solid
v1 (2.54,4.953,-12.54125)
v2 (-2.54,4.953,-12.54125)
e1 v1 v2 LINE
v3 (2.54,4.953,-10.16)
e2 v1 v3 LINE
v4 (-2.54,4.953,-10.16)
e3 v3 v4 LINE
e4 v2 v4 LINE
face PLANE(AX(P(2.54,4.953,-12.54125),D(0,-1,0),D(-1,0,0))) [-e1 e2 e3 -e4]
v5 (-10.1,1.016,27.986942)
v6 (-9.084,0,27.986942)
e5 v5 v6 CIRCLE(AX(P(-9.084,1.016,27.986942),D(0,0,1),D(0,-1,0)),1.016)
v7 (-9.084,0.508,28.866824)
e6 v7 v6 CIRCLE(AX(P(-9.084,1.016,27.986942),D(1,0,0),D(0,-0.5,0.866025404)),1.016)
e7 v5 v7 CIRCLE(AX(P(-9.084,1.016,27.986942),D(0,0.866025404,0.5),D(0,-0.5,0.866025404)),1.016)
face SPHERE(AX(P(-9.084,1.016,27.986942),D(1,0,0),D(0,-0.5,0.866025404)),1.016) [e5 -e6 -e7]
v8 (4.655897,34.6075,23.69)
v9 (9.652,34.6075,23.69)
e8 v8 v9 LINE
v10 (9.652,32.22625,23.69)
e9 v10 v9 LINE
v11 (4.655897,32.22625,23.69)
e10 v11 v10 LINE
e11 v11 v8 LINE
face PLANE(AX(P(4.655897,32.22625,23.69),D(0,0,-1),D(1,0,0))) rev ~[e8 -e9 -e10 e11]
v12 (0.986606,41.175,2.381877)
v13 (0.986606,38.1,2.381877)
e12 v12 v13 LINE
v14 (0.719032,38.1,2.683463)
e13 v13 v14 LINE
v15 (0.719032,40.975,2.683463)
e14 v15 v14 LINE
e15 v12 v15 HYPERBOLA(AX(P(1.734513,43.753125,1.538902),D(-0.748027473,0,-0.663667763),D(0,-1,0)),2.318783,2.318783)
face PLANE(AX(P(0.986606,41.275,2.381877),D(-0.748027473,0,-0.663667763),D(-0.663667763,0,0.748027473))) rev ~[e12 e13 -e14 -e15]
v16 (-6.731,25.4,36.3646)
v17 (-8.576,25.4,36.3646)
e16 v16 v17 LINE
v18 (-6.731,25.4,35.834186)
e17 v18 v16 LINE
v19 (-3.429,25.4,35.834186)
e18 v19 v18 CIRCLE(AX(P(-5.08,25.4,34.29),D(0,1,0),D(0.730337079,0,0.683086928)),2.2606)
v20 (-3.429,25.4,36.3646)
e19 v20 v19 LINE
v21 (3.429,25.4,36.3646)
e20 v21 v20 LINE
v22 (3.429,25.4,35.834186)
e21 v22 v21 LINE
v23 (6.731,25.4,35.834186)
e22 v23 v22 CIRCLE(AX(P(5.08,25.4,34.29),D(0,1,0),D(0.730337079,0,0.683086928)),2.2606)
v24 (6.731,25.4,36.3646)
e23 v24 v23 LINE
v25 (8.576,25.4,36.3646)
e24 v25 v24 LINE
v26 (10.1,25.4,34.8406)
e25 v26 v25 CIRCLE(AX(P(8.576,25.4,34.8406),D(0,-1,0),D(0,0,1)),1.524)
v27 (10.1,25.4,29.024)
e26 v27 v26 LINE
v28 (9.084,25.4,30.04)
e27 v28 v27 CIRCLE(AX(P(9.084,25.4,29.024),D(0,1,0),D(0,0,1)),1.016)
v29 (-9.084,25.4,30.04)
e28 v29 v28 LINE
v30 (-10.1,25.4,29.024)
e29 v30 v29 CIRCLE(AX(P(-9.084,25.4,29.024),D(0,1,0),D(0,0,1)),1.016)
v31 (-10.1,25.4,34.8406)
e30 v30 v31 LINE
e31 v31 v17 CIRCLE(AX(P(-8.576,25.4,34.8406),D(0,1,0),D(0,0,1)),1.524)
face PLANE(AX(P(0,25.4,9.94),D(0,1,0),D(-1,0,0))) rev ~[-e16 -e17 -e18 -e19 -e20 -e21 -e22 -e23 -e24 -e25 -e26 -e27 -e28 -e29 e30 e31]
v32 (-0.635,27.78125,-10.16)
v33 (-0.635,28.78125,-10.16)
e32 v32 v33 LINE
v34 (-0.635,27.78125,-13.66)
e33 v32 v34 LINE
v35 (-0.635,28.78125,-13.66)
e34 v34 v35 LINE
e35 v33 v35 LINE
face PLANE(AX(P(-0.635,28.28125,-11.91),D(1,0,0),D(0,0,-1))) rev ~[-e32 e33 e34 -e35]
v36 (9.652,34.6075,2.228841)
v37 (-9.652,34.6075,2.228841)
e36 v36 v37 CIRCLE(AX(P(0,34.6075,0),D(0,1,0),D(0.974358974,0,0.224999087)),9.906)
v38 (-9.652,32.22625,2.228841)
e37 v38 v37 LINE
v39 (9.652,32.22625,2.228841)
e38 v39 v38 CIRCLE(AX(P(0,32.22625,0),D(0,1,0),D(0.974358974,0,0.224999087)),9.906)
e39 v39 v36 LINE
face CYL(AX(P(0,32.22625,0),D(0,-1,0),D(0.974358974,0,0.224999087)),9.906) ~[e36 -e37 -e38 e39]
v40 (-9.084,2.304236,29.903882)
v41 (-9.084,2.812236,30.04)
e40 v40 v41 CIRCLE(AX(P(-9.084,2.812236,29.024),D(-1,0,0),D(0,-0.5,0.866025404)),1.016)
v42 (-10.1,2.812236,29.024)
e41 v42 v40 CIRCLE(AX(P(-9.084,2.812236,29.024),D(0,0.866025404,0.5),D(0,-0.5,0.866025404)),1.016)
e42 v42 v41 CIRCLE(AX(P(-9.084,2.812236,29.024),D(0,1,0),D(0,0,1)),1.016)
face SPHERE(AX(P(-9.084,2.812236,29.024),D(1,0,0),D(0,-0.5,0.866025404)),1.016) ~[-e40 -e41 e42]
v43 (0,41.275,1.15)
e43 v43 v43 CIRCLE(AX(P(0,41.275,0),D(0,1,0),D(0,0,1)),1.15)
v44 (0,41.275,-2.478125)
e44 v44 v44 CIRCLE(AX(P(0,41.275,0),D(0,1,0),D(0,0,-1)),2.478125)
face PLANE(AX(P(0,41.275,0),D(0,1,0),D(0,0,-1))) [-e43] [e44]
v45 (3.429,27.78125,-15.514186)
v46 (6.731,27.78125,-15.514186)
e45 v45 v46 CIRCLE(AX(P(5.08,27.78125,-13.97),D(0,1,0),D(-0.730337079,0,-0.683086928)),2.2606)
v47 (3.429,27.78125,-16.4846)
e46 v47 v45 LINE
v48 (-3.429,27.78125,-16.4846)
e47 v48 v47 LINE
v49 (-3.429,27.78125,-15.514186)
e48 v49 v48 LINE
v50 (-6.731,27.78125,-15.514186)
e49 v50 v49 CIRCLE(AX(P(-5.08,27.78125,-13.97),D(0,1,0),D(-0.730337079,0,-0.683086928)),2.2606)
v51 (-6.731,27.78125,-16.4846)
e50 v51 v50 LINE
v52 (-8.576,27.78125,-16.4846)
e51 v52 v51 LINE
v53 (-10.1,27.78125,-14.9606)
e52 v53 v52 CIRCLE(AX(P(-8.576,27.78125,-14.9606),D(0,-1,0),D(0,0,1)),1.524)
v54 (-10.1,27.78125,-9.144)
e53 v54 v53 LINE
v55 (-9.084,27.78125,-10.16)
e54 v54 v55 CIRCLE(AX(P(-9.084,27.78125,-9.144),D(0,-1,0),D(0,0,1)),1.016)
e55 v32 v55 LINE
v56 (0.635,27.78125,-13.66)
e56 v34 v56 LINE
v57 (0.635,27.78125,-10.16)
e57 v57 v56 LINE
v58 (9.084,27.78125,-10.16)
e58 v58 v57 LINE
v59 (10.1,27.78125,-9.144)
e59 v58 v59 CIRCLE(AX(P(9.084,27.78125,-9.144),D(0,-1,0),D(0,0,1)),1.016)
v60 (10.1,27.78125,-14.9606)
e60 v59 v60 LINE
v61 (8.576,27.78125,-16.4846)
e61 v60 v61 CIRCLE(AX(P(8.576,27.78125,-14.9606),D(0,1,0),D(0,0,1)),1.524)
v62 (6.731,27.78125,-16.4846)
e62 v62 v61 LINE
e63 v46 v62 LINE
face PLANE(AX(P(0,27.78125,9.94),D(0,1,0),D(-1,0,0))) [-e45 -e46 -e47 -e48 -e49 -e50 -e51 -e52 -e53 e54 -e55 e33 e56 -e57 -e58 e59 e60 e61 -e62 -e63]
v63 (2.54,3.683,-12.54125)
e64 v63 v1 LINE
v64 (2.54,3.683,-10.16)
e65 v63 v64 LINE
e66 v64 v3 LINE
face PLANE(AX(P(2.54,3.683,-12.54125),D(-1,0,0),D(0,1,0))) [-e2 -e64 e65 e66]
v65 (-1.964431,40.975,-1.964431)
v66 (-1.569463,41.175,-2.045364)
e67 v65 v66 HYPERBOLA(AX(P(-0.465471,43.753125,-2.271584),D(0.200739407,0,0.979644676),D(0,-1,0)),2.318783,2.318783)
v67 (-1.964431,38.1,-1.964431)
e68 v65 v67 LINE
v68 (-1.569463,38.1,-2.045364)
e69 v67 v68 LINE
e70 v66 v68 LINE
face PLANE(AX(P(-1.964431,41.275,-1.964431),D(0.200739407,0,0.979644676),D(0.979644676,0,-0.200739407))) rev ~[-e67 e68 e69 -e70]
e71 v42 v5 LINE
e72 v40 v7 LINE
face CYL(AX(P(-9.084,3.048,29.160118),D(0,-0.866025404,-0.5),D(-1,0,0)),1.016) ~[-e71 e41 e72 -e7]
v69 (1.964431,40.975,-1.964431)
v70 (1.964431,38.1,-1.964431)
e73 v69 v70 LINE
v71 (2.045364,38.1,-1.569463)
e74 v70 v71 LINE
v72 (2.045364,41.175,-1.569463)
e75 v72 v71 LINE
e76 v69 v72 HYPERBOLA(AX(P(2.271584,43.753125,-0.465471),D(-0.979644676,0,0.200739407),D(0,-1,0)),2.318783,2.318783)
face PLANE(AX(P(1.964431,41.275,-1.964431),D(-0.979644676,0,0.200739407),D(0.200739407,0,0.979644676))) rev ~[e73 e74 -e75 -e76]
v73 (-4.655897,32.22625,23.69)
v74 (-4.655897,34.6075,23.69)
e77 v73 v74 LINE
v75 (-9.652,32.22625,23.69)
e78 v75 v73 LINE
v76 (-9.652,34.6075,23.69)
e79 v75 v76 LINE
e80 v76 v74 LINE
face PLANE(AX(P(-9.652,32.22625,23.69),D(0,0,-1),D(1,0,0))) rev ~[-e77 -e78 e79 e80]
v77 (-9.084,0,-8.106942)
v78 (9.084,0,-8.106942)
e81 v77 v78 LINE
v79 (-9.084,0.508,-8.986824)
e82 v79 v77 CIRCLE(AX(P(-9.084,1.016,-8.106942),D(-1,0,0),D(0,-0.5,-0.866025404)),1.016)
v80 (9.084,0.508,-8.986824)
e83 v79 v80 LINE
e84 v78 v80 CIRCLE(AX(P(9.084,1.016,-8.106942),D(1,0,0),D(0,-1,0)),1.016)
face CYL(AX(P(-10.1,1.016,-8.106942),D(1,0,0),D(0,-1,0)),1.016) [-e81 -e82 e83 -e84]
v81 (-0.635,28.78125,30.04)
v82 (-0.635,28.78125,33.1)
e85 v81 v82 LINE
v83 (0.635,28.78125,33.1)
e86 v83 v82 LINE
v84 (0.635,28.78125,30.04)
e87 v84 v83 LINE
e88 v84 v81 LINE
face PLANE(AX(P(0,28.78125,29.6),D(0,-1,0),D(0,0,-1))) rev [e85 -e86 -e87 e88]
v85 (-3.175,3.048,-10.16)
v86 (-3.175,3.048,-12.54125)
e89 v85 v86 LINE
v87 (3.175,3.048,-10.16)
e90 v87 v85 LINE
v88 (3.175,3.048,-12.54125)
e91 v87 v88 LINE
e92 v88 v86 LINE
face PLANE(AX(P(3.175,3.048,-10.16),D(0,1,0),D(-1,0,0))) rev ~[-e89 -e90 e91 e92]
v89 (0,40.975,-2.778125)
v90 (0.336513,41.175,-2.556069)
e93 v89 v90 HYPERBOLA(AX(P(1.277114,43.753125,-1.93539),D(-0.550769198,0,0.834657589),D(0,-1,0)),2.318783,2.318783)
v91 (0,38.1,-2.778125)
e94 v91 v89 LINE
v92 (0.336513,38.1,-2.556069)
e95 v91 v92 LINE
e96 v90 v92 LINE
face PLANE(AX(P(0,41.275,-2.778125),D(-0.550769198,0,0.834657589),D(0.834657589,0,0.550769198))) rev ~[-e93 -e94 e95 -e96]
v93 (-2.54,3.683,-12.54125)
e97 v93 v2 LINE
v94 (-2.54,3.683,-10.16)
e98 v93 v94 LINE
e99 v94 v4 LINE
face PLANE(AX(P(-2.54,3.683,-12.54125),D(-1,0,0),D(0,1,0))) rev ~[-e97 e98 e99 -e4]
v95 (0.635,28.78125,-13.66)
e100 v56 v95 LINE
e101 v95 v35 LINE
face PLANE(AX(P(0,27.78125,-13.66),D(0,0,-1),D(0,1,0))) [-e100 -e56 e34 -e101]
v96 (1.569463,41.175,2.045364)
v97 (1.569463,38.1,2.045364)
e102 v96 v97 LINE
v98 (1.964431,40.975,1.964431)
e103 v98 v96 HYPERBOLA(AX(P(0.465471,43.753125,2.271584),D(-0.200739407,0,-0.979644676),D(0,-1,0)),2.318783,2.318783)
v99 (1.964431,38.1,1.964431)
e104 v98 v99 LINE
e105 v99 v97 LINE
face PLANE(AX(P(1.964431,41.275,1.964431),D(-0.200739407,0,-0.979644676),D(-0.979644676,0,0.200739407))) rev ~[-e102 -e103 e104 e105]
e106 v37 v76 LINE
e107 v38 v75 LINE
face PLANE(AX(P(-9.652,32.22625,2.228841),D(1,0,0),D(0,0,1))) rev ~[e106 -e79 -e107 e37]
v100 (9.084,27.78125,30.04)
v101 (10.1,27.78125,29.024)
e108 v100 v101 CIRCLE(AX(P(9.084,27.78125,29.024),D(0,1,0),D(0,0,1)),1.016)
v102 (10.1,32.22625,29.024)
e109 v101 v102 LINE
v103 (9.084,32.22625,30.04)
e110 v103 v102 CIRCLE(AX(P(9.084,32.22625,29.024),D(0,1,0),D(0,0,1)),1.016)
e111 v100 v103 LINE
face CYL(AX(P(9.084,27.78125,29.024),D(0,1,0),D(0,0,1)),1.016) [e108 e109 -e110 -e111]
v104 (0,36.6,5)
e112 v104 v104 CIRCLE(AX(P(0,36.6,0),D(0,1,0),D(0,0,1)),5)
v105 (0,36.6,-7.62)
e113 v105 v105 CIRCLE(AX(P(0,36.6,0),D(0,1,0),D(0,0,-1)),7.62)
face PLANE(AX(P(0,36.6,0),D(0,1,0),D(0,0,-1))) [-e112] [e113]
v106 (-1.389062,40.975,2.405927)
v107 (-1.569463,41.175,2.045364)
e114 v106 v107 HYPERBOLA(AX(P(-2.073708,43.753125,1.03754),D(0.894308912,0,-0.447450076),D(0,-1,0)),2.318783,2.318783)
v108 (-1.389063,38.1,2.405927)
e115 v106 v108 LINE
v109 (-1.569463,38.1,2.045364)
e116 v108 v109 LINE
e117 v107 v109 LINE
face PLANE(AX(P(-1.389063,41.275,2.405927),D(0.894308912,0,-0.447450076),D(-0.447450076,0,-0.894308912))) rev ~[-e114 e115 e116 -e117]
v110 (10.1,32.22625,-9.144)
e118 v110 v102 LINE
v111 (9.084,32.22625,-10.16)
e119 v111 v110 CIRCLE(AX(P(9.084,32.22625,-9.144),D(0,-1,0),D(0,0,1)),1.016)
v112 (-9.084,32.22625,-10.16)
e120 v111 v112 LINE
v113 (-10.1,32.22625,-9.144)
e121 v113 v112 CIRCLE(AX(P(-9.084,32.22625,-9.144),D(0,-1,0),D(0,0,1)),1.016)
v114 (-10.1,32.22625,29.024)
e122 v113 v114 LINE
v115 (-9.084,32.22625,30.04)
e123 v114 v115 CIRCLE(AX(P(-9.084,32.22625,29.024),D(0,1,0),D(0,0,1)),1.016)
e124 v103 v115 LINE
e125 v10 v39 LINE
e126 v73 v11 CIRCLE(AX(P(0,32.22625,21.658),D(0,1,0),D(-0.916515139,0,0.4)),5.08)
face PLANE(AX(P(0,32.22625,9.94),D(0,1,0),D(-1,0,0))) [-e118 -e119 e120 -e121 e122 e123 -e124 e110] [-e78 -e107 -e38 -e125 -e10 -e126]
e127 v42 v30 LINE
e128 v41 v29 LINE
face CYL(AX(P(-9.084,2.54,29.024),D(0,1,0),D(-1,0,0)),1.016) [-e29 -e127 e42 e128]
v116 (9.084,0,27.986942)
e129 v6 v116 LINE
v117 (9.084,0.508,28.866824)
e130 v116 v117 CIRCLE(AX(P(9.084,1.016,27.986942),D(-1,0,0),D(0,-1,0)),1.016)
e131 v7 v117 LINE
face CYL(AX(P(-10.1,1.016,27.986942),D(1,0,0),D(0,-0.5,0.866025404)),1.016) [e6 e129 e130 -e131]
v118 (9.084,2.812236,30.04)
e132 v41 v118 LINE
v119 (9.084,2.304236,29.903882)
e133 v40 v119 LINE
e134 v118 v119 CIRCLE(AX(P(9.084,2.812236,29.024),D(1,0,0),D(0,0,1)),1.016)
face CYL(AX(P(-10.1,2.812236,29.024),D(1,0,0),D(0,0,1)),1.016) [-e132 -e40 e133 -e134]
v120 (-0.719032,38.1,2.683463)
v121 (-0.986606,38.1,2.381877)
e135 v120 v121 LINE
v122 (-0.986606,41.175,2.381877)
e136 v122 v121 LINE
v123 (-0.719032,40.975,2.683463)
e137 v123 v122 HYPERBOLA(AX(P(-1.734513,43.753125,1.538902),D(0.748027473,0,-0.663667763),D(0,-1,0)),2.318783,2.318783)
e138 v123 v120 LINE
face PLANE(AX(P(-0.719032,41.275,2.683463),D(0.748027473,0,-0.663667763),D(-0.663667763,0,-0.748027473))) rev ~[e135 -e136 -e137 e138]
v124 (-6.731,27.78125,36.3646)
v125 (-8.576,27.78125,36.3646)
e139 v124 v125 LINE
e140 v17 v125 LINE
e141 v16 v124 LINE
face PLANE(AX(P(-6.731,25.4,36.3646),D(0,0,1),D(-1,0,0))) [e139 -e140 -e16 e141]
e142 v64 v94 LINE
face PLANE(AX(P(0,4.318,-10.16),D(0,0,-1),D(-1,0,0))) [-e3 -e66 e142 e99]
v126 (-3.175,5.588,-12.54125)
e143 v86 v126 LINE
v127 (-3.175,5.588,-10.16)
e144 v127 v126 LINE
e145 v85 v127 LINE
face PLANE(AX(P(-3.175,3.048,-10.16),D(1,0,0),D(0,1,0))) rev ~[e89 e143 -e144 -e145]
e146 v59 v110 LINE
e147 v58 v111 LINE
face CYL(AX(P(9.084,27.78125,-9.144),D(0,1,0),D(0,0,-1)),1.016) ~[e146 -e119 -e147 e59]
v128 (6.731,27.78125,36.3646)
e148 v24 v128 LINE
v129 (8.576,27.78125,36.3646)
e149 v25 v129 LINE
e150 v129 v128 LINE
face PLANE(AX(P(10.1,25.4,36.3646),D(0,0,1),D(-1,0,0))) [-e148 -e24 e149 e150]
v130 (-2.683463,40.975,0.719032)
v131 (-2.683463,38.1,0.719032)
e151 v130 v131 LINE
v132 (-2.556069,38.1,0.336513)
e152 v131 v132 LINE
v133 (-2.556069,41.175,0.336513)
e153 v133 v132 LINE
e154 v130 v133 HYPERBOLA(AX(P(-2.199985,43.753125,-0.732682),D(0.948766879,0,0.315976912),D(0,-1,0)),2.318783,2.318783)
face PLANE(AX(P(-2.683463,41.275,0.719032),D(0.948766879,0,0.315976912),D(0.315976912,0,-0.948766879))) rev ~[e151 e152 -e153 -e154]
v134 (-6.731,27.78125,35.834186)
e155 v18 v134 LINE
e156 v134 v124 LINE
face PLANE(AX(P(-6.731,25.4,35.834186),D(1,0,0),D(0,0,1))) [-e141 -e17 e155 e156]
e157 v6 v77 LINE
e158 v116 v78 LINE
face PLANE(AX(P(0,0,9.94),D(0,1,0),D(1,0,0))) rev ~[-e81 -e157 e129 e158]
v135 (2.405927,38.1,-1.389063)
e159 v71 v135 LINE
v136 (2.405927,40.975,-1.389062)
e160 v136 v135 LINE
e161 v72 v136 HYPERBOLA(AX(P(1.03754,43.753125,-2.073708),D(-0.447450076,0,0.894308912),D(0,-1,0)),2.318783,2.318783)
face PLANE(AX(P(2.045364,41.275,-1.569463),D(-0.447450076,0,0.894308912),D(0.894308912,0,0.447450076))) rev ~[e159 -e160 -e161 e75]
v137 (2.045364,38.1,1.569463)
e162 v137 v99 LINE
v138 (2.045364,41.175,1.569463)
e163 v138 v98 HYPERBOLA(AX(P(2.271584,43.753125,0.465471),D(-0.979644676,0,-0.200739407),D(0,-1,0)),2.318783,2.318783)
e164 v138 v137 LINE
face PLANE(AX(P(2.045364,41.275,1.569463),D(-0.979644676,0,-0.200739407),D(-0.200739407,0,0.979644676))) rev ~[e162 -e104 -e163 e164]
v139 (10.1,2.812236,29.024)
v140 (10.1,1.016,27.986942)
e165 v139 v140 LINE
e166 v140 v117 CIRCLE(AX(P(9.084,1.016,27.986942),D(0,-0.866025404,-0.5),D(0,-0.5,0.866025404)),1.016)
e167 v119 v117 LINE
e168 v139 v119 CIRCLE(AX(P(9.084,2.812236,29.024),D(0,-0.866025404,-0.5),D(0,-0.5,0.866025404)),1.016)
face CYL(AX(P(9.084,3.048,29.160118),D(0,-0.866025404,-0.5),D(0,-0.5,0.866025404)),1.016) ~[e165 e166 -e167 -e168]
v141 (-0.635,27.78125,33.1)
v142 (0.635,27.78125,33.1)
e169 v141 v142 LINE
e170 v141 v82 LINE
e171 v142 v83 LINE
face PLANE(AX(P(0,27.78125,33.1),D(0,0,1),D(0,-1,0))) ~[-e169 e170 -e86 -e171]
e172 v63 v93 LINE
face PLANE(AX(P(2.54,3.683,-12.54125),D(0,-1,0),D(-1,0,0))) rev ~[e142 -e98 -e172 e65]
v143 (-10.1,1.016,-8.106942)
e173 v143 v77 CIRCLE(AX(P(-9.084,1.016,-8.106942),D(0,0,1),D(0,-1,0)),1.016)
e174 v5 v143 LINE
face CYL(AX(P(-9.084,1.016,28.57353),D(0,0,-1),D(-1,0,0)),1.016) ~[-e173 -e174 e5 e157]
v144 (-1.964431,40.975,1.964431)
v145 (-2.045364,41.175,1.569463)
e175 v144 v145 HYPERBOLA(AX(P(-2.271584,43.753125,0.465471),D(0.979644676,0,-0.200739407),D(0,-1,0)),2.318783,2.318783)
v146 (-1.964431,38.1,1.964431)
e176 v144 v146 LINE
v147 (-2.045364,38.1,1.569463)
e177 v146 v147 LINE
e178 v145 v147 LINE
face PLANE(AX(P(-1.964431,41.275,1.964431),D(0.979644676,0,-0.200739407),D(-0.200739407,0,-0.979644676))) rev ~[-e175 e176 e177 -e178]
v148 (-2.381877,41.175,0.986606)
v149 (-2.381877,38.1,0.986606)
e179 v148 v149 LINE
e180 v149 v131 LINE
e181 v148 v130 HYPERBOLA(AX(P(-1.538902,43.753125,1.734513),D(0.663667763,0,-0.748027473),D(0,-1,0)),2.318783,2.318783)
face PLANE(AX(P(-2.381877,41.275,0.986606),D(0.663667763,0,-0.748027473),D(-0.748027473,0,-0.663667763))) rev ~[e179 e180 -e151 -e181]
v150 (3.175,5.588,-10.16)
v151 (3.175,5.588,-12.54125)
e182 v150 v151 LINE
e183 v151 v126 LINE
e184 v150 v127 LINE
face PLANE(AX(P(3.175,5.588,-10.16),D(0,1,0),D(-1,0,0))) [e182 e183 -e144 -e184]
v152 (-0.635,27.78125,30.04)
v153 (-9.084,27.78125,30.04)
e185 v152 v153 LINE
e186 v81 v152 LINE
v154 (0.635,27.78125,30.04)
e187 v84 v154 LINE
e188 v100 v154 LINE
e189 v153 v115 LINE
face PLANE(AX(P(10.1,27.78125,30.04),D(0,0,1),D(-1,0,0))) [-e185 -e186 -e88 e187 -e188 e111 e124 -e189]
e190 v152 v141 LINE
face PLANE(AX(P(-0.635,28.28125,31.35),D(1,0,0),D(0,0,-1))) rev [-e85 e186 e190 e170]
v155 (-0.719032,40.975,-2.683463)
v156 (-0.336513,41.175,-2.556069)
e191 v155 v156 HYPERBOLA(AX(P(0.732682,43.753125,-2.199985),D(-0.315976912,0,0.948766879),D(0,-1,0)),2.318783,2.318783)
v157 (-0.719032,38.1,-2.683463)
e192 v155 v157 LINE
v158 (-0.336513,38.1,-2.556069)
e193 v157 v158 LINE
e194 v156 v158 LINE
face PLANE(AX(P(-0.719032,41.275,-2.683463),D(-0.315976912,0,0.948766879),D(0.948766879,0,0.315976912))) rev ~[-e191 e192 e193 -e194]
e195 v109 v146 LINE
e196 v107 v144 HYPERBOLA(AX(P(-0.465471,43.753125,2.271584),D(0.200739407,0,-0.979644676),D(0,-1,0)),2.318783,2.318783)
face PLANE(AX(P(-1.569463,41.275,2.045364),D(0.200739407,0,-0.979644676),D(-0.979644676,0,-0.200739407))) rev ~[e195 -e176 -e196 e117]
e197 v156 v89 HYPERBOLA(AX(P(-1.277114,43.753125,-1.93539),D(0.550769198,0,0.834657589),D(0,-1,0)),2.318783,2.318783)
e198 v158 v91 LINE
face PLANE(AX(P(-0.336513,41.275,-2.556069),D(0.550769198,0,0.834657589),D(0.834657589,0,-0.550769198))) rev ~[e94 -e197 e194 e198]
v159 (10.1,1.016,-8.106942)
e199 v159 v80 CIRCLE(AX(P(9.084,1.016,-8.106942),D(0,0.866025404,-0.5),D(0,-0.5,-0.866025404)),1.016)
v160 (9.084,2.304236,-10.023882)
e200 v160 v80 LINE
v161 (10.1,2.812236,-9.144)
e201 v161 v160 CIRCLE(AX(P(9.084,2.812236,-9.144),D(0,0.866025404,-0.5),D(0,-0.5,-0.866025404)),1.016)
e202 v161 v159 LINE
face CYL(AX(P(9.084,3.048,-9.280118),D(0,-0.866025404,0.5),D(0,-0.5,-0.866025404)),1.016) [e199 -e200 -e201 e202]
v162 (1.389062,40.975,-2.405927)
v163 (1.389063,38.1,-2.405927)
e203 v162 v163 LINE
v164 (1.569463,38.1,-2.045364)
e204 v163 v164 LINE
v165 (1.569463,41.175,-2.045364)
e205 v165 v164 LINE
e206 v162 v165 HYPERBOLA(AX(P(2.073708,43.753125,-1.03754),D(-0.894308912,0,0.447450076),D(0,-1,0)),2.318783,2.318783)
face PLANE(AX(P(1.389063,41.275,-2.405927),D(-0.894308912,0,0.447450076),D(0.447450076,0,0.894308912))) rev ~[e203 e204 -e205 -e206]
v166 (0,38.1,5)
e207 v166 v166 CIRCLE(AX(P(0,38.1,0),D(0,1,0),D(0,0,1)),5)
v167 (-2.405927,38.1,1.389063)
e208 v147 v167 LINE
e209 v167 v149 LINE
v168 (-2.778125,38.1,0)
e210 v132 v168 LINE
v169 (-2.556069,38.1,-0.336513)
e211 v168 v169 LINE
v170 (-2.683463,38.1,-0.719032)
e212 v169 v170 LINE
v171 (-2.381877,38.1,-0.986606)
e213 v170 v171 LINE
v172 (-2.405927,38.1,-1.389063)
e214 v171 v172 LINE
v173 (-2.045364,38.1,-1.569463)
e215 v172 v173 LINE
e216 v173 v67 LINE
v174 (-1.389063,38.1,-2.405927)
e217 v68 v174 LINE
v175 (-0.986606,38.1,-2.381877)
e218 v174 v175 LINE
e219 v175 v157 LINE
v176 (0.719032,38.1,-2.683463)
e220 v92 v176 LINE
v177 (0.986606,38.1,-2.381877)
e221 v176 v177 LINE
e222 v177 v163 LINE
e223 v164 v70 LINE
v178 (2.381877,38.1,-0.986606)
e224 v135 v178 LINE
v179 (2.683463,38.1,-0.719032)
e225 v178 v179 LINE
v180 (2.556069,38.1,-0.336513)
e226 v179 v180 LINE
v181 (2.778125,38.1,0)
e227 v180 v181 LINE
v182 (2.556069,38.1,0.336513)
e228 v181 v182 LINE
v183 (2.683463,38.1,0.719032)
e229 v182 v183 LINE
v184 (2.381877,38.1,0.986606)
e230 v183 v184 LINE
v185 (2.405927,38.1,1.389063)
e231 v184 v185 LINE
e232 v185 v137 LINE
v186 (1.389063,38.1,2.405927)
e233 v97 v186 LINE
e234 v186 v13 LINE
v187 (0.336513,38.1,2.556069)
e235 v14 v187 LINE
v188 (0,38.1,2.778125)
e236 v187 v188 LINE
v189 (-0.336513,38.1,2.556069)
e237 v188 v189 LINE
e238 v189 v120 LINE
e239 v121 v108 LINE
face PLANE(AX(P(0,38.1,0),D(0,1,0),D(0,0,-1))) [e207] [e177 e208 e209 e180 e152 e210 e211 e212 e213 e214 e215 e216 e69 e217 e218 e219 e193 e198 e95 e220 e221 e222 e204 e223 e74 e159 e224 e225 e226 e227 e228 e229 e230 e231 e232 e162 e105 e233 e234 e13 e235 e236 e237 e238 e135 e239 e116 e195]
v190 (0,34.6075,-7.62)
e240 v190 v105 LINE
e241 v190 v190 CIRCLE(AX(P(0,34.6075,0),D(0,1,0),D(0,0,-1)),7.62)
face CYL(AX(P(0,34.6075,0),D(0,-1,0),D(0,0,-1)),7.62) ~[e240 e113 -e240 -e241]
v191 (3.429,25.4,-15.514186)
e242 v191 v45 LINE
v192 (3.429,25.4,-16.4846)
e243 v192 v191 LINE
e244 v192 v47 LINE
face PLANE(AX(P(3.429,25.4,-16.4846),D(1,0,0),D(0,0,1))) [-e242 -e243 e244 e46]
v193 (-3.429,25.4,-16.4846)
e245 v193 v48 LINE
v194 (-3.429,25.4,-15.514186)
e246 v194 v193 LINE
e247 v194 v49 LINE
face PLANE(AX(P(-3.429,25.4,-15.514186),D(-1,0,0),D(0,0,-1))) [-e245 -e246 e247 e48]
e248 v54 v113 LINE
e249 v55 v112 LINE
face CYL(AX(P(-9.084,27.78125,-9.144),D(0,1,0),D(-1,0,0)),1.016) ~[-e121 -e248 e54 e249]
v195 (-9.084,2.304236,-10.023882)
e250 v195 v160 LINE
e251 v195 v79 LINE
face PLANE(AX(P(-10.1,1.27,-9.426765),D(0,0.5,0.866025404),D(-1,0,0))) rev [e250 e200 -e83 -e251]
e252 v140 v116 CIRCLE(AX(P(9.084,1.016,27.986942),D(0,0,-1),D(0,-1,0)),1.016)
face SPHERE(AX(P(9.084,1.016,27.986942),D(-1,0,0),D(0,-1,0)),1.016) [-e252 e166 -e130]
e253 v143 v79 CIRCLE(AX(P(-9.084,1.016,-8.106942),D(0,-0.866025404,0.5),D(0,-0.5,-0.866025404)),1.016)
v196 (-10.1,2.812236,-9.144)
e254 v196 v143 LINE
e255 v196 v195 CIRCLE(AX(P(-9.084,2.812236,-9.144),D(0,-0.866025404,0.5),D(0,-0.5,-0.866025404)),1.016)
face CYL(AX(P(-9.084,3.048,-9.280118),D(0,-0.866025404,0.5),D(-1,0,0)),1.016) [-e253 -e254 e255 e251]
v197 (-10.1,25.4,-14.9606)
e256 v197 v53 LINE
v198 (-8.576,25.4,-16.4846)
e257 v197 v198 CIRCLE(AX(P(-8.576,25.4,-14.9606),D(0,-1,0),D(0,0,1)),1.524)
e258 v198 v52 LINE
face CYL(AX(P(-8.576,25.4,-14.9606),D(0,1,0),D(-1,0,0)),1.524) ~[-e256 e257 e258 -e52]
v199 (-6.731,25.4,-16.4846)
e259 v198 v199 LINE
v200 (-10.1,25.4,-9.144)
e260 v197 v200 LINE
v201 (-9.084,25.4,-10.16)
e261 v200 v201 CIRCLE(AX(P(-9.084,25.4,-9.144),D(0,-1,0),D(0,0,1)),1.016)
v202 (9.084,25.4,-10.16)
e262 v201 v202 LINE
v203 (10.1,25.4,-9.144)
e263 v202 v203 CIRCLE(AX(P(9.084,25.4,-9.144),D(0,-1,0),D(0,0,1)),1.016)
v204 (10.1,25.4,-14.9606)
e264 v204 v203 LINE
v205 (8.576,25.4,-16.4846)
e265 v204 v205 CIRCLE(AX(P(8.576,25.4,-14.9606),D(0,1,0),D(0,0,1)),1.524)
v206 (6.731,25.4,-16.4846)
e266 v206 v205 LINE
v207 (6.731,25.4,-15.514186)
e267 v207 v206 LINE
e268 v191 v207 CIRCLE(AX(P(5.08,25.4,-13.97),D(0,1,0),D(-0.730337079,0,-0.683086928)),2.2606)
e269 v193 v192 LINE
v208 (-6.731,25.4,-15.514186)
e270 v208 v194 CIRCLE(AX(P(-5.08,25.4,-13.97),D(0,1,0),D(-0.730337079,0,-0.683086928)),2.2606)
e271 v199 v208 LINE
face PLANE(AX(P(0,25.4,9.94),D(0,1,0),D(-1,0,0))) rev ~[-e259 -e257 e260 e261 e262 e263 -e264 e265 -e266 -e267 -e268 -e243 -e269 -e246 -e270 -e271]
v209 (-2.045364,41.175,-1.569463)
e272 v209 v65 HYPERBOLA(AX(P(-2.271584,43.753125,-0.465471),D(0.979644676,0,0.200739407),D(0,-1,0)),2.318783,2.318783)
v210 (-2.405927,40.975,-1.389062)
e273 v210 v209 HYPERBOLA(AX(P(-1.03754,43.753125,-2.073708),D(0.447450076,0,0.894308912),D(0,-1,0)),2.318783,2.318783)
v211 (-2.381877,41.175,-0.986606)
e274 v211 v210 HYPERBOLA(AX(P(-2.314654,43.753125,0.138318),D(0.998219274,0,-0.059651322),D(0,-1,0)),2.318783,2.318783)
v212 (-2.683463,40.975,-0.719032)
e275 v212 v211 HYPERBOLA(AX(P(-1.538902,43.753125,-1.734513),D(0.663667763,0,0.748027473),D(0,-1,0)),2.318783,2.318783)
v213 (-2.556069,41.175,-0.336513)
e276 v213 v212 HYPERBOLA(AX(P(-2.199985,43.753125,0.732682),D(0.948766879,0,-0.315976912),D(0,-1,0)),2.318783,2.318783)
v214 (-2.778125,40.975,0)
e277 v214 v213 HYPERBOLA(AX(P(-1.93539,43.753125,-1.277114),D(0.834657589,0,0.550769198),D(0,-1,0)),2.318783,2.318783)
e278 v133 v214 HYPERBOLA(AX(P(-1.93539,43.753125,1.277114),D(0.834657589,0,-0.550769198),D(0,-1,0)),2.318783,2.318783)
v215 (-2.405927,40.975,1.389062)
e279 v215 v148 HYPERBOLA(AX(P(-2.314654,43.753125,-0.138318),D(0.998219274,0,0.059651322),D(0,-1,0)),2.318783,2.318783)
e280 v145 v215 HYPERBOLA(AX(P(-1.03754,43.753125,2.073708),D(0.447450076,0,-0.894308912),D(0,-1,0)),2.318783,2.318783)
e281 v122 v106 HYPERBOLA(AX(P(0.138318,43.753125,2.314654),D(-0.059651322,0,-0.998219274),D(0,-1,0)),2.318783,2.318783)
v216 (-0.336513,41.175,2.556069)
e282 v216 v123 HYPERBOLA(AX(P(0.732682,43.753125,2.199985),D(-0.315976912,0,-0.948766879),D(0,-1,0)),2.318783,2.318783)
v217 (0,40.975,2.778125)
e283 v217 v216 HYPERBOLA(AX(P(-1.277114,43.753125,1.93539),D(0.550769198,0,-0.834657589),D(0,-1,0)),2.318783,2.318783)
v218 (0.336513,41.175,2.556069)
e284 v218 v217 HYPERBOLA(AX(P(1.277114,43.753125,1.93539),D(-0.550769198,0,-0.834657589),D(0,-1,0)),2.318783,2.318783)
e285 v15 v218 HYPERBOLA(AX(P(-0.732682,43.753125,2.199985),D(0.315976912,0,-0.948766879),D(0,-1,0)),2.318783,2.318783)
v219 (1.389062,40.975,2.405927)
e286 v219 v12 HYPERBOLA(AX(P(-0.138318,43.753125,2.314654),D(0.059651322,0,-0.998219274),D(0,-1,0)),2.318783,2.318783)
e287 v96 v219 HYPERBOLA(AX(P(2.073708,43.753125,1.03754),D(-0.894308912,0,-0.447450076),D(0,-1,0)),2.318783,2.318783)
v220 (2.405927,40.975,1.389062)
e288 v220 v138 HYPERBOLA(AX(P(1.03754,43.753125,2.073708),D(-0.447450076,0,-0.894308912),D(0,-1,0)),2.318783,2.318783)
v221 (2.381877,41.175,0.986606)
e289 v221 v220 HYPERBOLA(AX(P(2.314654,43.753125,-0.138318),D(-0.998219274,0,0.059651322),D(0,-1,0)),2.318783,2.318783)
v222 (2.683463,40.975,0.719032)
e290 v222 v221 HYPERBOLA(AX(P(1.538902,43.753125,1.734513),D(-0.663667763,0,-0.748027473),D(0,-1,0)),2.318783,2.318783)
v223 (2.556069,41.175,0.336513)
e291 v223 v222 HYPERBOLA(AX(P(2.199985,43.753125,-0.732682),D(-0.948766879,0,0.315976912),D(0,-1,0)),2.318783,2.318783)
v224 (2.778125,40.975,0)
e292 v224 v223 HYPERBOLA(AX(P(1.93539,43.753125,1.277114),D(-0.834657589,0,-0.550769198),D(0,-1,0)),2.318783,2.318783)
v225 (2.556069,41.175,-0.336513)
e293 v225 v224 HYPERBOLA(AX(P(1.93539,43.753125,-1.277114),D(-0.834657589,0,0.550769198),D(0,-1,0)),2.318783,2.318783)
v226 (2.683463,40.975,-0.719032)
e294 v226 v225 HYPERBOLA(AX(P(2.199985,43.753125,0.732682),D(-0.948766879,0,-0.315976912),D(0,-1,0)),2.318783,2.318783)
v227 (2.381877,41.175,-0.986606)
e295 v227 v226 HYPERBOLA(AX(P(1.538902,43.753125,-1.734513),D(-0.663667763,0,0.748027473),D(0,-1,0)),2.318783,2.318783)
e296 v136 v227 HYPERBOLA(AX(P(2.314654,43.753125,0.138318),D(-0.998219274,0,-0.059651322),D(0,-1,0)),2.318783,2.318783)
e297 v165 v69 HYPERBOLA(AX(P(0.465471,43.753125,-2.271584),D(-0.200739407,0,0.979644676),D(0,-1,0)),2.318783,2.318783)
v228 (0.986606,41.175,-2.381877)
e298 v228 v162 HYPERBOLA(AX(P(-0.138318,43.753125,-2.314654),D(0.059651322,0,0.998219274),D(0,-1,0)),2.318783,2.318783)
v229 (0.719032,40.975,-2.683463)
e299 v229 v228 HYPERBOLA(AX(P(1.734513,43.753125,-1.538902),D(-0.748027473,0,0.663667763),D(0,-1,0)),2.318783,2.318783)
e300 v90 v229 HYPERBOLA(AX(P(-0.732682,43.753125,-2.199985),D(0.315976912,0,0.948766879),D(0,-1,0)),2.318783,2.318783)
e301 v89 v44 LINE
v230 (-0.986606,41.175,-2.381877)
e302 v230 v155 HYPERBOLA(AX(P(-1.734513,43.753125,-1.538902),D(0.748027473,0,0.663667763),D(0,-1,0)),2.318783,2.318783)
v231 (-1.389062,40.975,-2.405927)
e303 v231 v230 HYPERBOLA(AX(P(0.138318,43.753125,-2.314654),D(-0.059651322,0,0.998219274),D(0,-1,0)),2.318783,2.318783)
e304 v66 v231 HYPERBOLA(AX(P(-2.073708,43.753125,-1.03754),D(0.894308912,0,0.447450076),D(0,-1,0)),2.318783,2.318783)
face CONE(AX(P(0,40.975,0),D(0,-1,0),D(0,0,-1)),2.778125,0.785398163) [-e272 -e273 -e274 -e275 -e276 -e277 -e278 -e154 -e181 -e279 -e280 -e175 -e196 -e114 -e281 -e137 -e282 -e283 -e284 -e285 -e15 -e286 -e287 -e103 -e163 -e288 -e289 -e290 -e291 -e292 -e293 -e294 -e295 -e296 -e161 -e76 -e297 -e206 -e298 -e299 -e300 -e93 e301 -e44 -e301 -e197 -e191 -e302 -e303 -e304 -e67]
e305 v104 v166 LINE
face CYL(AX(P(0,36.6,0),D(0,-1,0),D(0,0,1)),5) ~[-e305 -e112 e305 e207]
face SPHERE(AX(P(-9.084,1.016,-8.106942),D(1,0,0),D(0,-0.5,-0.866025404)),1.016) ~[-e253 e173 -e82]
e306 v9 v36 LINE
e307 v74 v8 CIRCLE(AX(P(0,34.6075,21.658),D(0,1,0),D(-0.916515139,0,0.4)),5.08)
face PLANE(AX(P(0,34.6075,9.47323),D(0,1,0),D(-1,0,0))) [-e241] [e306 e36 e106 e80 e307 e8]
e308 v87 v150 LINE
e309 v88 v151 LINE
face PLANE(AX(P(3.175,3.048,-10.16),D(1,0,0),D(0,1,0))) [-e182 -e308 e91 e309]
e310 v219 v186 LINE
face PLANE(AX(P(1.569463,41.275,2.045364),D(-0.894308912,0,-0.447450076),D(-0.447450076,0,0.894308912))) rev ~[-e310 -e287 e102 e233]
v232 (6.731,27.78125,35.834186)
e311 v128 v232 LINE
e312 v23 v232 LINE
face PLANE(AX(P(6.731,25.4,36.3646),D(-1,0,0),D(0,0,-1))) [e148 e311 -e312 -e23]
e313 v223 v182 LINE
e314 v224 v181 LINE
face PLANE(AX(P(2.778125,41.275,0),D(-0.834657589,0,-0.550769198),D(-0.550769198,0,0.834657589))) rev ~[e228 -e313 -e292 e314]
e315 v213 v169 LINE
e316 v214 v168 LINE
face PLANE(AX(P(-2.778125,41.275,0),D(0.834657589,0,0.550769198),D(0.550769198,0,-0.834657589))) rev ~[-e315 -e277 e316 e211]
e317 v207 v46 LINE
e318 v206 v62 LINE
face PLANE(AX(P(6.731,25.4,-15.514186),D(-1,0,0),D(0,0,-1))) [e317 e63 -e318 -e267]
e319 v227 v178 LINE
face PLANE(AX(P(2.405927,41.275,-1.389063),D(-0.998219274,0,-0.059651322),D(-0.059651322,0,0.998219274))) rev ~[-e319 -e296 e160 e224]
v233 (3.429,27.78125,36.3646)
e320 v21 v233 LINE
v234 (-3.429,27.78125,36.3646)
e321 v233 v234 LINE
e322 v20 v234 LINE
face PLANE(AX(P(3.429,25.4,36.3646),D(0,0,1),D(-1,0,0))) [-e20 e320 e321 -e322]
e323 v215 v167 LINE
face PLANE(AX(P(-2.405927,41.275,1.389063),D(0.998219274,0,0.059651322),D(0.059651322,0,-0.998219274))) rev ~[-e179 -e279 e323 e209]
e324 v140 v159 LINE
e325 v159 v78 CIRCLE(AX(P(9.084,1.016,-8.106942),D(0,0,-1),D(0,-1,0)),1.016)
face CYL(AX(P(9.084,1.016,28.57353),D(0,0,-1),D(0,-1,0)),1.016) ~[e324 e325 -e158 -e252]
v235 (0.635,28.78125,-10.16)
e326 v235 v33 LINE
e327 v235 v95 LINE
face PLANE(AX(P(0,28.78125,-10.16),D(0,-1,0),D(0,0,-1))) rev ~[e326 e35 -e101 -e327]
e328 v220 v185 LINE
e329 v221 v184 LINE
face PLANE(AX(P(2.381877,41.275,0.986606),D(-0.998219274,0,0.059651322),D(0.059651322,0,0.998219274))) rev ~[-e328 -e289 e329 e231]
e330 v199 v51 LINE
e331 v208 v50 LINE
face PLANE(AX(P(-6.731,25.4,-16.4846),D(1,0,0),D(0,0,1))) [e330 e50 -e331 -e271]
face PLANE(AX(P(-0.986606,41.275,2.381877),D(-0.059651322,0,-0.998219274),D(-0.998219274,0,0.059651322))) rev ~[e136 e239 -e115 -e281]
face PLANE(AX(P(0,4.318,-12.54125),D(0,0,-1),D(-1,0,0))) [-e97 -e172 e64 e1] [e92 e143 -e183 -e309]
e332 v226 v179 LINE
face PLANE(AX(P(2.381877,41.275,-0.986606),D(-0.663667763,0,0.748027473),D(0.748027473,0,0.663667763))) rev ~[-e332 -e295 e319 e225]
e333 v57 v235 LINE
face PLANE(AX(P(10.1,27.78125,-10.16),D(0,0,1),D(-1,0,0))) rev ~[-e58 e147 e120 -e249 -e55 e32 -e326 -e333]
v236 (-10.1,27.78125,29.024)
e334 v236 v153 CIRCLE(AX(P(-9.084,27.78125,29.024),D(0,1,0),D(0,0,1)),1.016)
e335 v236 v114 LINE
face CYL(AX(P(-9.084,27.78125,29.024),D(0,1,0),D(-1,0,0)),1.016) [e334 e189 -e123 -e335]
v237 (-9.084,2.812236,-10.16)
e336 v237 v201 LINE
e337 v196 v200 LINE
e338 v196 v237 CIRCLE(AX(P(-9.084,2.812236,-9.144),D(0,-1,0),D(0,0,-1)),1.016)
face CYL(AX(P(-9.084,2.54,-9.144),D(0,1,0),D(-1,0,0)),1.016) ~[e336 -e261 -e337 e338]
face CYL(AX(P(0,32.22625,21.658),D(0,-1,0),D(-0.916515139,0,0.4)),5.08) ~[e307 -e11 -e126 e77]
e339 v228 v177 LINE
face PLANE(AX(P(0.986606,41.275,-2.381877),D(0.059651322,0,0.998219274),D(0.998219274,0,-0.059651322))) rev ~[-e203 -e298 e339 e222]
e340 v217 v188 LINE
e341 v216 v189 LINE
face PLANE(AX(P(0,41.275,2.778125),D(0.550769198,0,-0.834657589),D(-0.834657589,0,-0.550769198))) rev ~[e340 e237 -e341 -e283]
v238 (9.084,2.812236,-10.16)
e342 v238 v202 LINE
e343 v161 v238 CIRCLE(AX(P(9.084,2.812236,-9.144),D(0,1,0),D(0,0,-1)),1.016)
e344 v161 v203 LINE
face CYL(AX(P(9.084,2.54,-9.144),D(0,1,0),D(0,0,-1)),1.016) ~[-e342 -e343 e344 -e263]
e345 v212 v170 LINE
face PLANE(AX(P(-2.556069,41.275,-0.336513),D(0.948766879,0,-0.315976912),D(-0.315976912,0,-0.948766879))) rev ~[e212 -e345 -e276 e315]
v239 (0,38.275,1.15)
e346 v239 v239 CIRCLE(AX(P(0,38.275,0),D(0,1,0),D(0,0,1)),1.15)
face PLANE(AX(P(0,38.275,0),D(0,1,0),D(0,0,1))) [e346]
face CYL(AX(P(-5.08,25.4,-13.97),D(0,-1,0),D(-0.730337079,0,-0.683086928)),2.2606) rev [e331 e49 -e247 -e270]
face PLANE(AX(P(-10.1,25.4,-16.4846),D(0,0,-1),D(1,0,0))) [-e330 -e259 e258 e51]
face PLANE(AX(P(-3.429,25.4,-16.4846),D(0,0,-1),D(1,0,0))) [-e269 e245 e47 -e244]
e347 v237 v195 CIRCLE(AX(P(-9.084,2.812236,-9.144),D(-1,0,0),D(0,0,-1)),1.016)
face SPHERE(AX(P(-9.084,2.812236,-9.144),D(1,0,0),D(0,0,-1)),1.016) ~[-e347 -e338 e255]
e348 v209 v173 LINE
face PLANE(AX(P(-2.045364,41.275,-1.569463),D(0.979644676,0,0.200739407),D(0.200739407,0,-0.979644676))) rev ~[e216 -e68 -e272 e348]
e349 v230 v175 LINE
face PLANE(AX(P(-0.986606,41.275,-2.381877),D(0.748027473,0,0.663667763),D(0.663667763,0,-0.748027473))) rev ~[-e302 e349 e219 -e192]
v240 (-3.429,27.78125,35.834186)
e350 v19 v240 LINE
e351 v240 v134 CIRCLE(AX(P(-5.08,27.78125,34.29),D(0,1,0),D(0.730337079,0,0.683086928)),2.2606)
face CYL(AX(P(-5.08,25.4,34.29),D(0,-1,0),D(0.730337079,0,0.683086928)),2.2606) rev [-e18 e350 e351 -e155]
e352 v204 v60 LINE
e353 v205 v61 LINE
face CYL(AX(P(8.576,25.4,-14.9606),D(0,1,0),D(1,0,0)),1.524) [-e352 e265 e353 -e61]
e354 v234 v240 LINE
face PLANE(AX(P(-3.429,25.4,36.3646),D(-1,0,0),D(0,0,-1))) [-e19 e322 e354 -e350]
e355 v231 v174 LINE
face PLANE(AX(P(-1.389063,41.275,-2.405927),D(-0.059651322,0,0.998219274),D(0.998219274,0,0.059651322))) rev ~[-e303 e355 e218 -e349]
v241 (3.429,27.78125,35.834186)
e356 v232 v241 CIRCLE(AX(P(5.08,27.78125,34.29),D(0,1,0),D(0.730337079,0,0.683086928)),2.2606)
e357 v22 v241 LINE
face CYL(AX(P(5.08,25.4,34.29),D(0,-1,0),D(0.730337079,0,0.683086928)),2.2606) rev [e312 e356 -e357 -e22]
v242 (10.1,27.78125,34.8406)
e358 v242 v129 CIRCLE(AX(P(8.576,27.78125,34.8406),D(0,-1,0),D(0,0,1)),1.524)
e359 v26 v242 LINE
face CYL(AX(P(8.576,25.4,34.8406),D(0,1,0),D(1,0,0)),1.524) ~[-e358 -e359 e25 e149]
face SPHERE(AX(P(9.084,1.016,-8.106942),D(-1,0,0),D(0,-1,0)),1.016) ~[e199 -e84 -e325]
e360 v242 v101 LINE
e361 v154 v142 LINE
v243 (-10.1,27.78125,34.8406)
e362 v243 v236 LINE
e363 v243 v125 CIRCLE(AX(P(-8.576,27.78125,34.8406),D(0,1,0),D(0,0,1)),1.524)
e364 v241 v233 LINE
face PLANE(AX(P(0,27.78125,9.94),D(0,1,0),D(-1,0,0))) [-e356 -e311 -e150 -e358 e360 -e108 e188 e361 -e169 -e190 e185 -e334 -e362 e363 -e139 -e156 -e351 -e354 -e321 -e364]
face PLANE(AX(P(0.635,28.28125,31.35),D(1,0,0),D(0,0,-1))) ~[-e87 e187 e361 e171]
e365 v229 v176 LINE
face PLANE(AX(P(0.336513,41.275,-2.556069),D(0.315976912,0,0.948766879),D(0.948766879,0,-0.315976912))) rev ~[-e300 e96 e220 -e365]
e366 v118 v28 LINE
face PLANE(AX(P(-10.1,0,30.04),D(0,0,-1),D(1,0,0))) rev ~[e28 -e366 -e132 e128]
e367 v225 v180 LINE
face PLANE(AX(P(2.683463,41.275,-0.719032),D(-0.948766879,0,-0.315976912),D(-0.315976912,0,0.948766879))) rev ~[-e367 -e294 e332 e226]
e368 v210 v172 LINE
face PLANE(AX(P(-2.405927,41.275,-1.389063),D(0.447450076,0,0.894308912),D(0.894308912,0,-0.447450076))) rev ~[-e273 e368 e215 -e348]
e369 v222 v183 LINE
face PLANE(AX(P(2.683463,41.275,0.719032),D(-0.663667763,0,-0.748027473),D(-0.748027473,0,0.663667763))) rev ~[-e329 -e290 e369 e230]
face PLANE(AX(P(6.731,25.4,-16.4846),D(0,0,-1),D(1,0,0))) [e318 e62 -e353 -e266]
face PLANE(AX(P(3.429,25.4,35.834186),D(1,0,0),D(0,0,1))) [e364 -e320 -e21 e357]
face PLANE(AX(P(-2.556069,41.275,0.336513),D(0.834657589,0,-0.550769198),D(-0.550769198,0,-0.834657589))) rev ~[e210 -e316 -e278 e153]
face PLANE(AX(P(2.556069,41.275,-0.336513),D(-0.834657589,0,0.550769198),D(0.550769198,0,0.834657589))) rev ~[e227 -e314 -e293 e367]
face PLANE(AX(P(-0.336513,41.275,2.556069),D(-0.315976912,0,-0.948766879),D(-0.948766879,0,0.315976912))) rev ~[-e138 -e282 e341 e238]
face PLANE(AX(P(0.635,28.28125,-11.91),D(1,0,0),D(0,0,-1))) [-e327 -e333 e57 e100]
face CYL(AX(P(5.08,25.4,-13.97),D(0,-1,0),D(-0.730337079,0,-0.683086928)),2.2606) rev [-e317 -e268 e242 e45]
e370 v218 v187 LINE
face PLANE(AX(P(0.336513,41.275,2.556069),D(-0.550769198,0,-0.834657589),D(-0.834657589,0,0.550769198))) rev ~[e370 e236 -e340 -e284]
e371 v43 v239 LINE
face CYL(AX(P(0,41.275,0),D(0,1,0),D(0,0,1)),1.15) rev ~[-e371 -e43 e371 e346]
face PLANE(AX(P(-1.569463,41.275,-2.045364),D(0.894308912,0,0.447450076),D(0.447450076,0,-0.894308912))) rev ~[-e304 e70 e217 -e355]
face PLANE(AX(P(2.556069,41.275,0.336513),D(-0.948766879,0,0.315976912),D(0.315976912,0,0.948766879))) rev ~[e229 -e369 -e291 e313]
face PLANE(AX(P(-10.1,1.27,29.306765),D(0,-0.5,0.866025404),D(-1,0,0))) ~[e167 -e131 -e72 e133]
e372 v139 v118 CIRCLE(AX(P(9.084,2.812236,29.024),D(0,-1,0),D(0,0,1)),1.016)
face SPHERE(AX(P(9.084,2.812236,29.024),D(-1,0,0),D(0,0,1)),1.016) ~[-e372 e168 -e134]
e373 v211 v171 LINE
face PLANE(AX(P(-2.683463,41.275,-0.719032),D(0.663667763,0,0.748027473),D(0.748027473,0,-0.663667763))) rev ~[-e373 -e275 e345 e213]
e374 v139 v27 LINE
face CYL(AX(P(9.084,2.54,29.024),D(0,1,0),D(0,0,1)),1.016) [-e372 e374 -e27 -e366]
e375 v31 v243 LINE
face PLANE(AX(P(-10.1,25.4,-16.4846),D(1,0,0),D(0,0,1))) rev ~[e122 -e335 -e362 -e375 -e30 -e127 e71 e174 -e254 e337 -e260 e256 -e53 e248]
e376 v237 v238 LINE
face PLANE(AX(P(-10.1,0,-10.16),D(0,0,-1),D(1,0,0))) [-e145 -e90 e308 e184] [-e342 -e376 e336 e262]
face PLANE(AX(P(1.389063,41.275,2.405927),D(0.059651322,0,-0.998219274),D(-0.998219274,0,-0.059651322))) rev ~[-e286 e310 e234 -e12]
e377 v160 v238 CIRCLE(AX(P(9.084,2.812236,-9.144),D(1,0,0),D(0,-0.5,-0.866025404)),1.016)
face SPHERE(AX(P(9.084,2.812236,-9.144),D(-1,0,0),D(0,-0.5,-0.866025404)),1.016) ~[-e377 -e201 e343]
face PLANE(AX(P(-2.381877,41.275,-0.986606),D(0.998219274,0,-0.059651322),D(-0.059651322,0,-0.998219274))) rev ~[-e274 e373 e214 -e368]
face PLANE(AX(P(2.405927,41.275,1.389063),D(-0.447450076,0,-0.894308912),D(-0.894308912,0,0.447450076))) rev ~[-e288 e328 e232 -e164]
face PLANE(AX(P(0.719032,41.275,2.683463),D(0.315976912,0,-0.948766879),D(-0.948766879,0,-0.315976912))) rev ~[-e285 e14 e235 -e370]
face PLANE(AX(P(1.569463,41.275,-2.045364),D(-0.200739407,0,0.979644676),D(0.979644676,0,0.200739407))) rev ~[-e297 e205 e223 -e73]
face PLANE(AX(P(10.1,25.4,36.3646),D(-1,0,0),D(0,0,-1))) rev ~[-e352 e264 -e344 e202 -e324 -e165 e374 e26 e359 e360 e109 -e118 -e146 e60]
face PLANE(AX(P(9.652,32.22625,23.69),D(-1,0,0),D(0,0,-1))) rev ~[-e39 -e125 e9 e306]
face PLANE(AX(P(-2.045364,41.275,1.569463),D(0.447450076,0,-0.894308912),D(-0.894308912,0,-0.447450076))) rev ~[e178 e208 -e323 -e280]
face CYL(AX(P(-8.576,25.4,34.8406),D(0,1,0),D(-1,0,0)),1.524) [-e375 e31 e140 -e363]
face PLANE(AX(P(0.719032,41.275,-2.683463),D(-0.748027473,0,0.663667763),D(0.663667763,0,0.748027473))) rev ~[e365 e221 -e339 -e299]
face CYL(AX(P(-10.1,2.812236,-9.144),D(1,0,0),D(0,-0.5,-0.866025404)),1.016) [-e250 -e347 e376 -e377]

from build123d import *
from OCP.BRepFilletAPI import BRepFilletAPI_MakeChamfer

# Parameters (mm, degrees)
SKETCH1_W          = 20.2
SKETCH1_H          = 40.2
EXTRUDE1_DEPTH     = 25.4
SKETCH2_W          = 20.2
SKETCH2_H          = 40.2
EXTRUDE2_DEPTH     = 2.38125
SKETCH3_W          = 20.2
SKETCH3_H          = 40.2
EXTRUDE3_DEPTH     = 4.445
EXTRUDE4_DEPTH     = 2.38125
SKETCH5_R          = 7.62
EXTRUDE5_DEPTH     = 3.4925
SKETCH7_W          = 3.5
SKETCH7_H          = 1
EXTRUDE6_DEPTH     = 0.635
SKETCH8_R          = 2.778125
EXTRUDE7_DEPTH     = 3.175
CHAMFER2_SIZE      = 2.54
CHAMFER2_SIZE2     = 1.466469684
FILLET1_R          = 1.016
FILLET2_R          = 1.524
SKETCH9_W          = 6.35
SKETCH9_H          = 2.54
EXTRUDE8_DEPTH     = 2.38125
SKETCH10_W         = 5.08
SKETCH10_H         = 1.27
CUT_EXTRUDE1_DEPTH = 2.38125
CHAMFER3_SIZE      = 0.3
SKETCH11_R         = 3.778125
CUT_EXTRUDE2_DEPTH = 3.175
SKETCH12_R         = 1.15
CUT_EXTRUDE3_DEPTH = 3
CUT_EXTRUDE4_START = -1.5
SKETCH13_R         = 7.62
SKETCH13_R_2       = 5
CUT_EXTRUDE4_DEPTH = 1.5


with BuildPart() as part:
    # Sketch1 → Extrude1 (new body)
    with BuildSketch(Plane(origin=(0, 0, 0), x_dir=(1, 0, 0), z_dir=(0, 1, 0))):
        with Locations((0, -9.94)):
            Rectangle(SKETCH1_W, SKETCH1_H)
    extrude(amount=EXTRUDE1_DEPTH)

    # Sketch2 → Extrude2 (add)
    with BuildSketch(Plane(origin=(0, 25.4, 0), x_dir=(-1, 0, 0), z_dir=(0, 1, 0))):
        with Locations((0, 9.94)):
            Rectangle(SKETCH2_W, SKETCH2_H)
        with BuildLine():
            ThreePointArc((6.731, -15.51418631), (5.08, -11.7094), (3.429, -15.51418631))
            Line((3.429, -15.51418631), (3.429, -16.4846))
            Line((3.429, -16.4846), (-3.429, -16.4846))
            Line((-3.429, -16.4846), (-3.429, -15.51418631))
            ThreePointArc((-3.429, -15.51418631), (-5.08, -11.7094), (-6.731, -15.51418631))
            Line((-6.731, -15.51418631), (-6.731, -16.4846))
            Line((-6.731, -16.4846), (-10.1, -16.4846))
            Line((-10.1, -16.4846), (-10.1, -10.16))
            Line((-10.1, -10.16), (10.1, -10.16))
            Line((10.1, -10.16), (10.1, -16.4846))
            Line((10.1, -16.4846), (6.731, -16.4846))
            Line((6.731, -16.4846), (6.731, -15.51418631))
        make_face()
        with BuildLine():
            ThreePointArc((-6.731, 35.83418631), (-5.08, 32.0294), (-3.429, 35.83418631))
            Line((-3.429, 35.83418631), (-3.429, 36.3646))
            Line((-3.429, 36.3646), (3.429, 36.3646))
            Line((3.429, 36.3646), (3.429, 35.83418631))
            ThreePointArc((3.429, 35.83418631), (5.08, 32.0294), (6.731, 35.83418631))
            Line((6.731, 35.83418631), (6.731, 36.3646))
            Line((6.731, 36.3646), (10.1, 36.3646))
            Line((10.1, 36.3646), (10.1, 30.04))
            Line((10.1, 30.04), (-10.1, 30.04))
            Line((-10.1, 30.04), (-10.1, 36.3646))
            Line((-10.1, 36.3646), (-6.731, 36.3646))
            Line((-6.731, 36.3646), (-6.731, 35.83418631))
        make_face()
    extrude(amount=EXTRUDE2_DEPTH)

    # Sketch3 → Extrude3 (add)
    with BuildSketch(Plane(origin=(0, 27.78125, 0), x_dir=(-1, 0, 0), z_dir=(0, 1, 0))):
        with Locations((0, 9.94)):
            Rectangle(SKETCH3_W, SKETCH3_H)
    extrude(amount=EXTRUDE3_DEPTH)

    # Sketch4 → Extrude4 (add)
    with BuildSketch(Plane(origin=(0, 32.22625, 0), x_dir=(-1, 0, 0), z_dir=(0, 1, 0))):
        with BuildLine():
            Line((9.652, 2.228840954), (9.652, 23.69))
            Line((9.652, 23.69), (4.655896906, 23.69))
            ThreePointArc((4.655896906, 23.69), (0, 26.738), (-4.655896906, 23.69))
            Line((-4.655896906, 23.69), (-9.652, 23.69))
            Line((-9.652, 23.69), (-9.652, 2.228840954))
            ThreePointArc((-9.652, 2.228840954), (0, -9.906), (9.652, 2.228840954))
        make_face()
    extrude(amount=EXTRUDE4_DEPTH)

    # Sketch5 → Extrude5 (add)
    with BuildSketch(Plane(origin=(0, 34.6075, 0), x_dir=(-1, 0, 0), z_dir=(0, 1, 0))):
        with Locations(Location((0, 0, 0), (0, 0, 270))):
            Circle(SKETCH5_R)
    extrude(amount=EXTRUDE5_DEPTH)

    # Sketch7 → Extrude6 (add, symmetric)
    with BuildSketch(Plane(origin=(0, 0, 0), x_dir=(0, 0, -1), z_dir=(1, 0, 0))):
        with Locations((11.91, 28.28125)):
            Rectangle(SKETCH7_W, SKETCH7_H)
    extrude6 = extrude(amount=EXTRUDE6_DEPTH, both=True)

    # Mirror1: Extrude6 across plane
    add(extrude6.mirror(Plane.XY.offset(9.72)))

    # Sketch8 → Extrude7 (add)
    with BuildSketch(Plane(origin=(0, 38.1, 0), x_dir=(-1, 0, 0), z_dir=(0, 1, 0))):
        with Locations(Location((0, 0, 0), (0, 0, 270))):
            Circle(SKETCH8_R)
    extrude(amount=EXTRUDE7_DEPTH)

    # Chamfer2: one chamfer whose edges measure the first distance from different faces: ONE call of the kernel's chamfer builder (chamfer() names one face for all edges)
    chamfer2_edges_1 = [part.edges().sort_by_distance(p)[0] for p in [
        (0, 0, -10.16),
    ]]
    chamfer2_side_1 = [part.faces().sort_by_distance(p)[0] for p in [
        (0, 12.7, -10.16),
    ]]
    chamfer2_edges_2 = [part.edges().sort_by_distance(p)[0] for p in [
        (0, 0, 30.04),
    ]]
    chamfer2_side_2 = [part.faces().sort_by_distance(p)[0] for p in [
        (0, 12.7, 30.04),
    ]]
    chamfer2 = BRepFilletAPI_MakeChamfer(part.part.solid().wrapped)
    for e in chamfer2_edges_1:
        chamfer2.Add(CHAMFER2_SIZE, CHAMFER2_SIZE2, e.wrapped, chamfer2_side_1[0].wrapped)  # the first distance lies on this face
    for e in chamfer2_edges_2:
        chamfer2.Add(CHAMFER2_SIZE, CHAMFER2_SIZE2, e.wrapped, chamfer2_side_2[0].wrapped)  # the first distance lies on this face
    add(Compound.cast(chamfer2.Shape()), mode=Mode.REPLACE)

    # Fillet1
    fillet1_edges = [part.edges().sort_by_distance(p)[0] for p in [
        (-10.1, 30.00375, -10.16),
        (10.1, 30.00375, -10.16),
        (10.1, 30.00375, 30.04),
        (10.1, 0, 9.94),
        (10.1, 1.27, -9.426765158),
        (10.1, 13.97, -10.16),
        (0, 0, -8.693530316),
        (0, 2.54, -10.16),
        (-10.1, 13.97, -10.16),
        (-10.1, 1.27, -9.426765158),
        (10.1, 13.97, 30.04),
        (10.1, 1.27, 29.306765158),
        (0, 2.54, 30.04),
        (-10.1, 0, 9.94),
        (0, 0, 28.573530316),
        (-10.1, 1.27, 29.306765158),
        (-10.1, 13.97, 30.04),
        (-10.1, 30.00375, 30.04),
    ]]
    fillet(fillet1_edges, radius=FILLET1_R)

    # Fillet2
    fillet2_edges = [part.edges().sort_by_distance(p)[0] for p in [
        (-10.1, 26.590625, 36.3646),
        (10.1, 26.590625, 36.3646),
        (-10.1, 26.590625, -16.4846),
        (10.1, 26.590625, -16.4846),
    ]]
    fillet(fillet2_edges, radius=FILLET2_R)

    # Sketch9 → Extrude8 (add)
    with BuildSketch(Plane(origin=(0, 0, -10.16), x_dir=(-1, 0, 0), z_dir=(0, 0, -1))):
        with Locations((0, 4.318)):
            Rectangle(SKETCH9_W, SKETCH9_H)
    extrude(amount=EXTRUDE8_DEPTH)

    # Sketch10 → Cut-Extrude1 (cut)
    with BuildSketch(Plane(origin=(0, 0, -12.54125), x_dir=(-1, 0, 0), z_dir=(0, 0, -1))):
        with Locations((0, 4.318)):
            Rectangle(SKETCH10_W, SKETCH10_H)
    extrude(amount=-CUT_EXTRUDE1_DEPTH, mode=Mode.SUBTRACT)

    # Chamfer3
    chamfer3_edges = [part.edges().sort_by_distance(p)[0] for p in [
        (0, 41.275, 2.778125),
    ]]
    chamfer(chamfer3_edges, length=CHAMFER3_SIZE)

    # Sketch11 → Cut-Extrude2 (cut)
    with BuildSketch(Plane(origin=(0, 41.275, 0), x_dir=(1, 0, 0), z_dir=(0, 1, 0))):
        Circle(SKETCH11_R)
        Polygon((0, -2.778125), (-0.336512839, -2.556068783), (-0.71903166, -2.683462686), (-0.986605724, -2.38187692), (-1.3890625, -2.405926825), (-1.569463059, -2.04536408), (-1.964431026, -1.964431026), (-2.04536408, -1.569463059), (-2.405926825, -1.3890625), (-2.38187692, -0.986605724), (-2.683462686, -0.71903166), (-2.556068783, -0.336512839), (-2.778125, 0), (-2.556068783, 0.336512839), (-2.683462686, 0.71903166), (-2.38187692, 0.986605724), (-2.405926825, 1.3890625), (-2.04536408, 1.569463059), (-1.964431026, 1.964431026), (-1.569463059, 2.04536408), (-1.3890625, 2.405926825), (-0.986605724, 2.38187692), (-0.71903166, 2.683462686), (-0.336512839, 2.556068783), (0, 2.778125), (0.336512839, 2.556068783), (0.71903166, 2.683462686), (0.986605724, 2.38187692), (1.3890625, 2.405926825), (1.569463059, 2.04536408), (1.964431026, 1.964431026), (2.04536408, 1.569463059), (2.405926825, 1.3890625), (2.38187692, 0.986605724), (2.683462686, 0.71903166), (2.556068783, 0.336512839), (2.778125, 0), (2.556068783, -0.336512839), (2.683462686, -0.71903166), (2.38187692, -0.986605724), (2.405926825, -1.3890625), (2.04536408, -1.569463059), (1.964431026, -1.964431026), (1.569463059, -2.04536408), (1.3890625, -2.405926825), (0.986605724, -2.38187692), (0.71903166, -2.683462686), (0.336512839, -2.556068783), align=None, mode=Mode.SUBTRACT)
    extrude(amount=-CUT_EXTRUDE2_DEPTH, mode=Mode.SUBTRACT)

    # Sketch12 → Cut-Extrude3 (cut)
    with BuildSketch(Plane(origin=(0, 41.275, 0), x_dir=(1, 0, 0), z_dir=(0, 1, 0))):
        with Locations(Location((0, 0, 0), (0, 0, 270))):
            Circle(SKETCH12_R)
    extrude(amount=-CUT_EXTRUDE3_DEPTH, mode=Mode.SUBTRACT)

    # Sketch13 → Cut-Extrude4 (cut)
    with BuildSketch(Plane(origin=(0, 38.1, 0), x_dir=(1, 0, 0), z_dir=(0, 1, 0)).offset(CUT_EXTRUDE4_START)):
        with Locations(Location((0, 0, 0), (0, 0, 90))):
            Circle(SKETCH13_R)
        with Locations(Location((0, 0, 0), (0, 0, 270))):
            Circle(SKETCH13_R_2, mode=Mode.SUBTRACT)
    extrude(amount=CUT_EXTRUDE4_DEPTH, mode=Mode.SUBTRACT)


solid = part.part
